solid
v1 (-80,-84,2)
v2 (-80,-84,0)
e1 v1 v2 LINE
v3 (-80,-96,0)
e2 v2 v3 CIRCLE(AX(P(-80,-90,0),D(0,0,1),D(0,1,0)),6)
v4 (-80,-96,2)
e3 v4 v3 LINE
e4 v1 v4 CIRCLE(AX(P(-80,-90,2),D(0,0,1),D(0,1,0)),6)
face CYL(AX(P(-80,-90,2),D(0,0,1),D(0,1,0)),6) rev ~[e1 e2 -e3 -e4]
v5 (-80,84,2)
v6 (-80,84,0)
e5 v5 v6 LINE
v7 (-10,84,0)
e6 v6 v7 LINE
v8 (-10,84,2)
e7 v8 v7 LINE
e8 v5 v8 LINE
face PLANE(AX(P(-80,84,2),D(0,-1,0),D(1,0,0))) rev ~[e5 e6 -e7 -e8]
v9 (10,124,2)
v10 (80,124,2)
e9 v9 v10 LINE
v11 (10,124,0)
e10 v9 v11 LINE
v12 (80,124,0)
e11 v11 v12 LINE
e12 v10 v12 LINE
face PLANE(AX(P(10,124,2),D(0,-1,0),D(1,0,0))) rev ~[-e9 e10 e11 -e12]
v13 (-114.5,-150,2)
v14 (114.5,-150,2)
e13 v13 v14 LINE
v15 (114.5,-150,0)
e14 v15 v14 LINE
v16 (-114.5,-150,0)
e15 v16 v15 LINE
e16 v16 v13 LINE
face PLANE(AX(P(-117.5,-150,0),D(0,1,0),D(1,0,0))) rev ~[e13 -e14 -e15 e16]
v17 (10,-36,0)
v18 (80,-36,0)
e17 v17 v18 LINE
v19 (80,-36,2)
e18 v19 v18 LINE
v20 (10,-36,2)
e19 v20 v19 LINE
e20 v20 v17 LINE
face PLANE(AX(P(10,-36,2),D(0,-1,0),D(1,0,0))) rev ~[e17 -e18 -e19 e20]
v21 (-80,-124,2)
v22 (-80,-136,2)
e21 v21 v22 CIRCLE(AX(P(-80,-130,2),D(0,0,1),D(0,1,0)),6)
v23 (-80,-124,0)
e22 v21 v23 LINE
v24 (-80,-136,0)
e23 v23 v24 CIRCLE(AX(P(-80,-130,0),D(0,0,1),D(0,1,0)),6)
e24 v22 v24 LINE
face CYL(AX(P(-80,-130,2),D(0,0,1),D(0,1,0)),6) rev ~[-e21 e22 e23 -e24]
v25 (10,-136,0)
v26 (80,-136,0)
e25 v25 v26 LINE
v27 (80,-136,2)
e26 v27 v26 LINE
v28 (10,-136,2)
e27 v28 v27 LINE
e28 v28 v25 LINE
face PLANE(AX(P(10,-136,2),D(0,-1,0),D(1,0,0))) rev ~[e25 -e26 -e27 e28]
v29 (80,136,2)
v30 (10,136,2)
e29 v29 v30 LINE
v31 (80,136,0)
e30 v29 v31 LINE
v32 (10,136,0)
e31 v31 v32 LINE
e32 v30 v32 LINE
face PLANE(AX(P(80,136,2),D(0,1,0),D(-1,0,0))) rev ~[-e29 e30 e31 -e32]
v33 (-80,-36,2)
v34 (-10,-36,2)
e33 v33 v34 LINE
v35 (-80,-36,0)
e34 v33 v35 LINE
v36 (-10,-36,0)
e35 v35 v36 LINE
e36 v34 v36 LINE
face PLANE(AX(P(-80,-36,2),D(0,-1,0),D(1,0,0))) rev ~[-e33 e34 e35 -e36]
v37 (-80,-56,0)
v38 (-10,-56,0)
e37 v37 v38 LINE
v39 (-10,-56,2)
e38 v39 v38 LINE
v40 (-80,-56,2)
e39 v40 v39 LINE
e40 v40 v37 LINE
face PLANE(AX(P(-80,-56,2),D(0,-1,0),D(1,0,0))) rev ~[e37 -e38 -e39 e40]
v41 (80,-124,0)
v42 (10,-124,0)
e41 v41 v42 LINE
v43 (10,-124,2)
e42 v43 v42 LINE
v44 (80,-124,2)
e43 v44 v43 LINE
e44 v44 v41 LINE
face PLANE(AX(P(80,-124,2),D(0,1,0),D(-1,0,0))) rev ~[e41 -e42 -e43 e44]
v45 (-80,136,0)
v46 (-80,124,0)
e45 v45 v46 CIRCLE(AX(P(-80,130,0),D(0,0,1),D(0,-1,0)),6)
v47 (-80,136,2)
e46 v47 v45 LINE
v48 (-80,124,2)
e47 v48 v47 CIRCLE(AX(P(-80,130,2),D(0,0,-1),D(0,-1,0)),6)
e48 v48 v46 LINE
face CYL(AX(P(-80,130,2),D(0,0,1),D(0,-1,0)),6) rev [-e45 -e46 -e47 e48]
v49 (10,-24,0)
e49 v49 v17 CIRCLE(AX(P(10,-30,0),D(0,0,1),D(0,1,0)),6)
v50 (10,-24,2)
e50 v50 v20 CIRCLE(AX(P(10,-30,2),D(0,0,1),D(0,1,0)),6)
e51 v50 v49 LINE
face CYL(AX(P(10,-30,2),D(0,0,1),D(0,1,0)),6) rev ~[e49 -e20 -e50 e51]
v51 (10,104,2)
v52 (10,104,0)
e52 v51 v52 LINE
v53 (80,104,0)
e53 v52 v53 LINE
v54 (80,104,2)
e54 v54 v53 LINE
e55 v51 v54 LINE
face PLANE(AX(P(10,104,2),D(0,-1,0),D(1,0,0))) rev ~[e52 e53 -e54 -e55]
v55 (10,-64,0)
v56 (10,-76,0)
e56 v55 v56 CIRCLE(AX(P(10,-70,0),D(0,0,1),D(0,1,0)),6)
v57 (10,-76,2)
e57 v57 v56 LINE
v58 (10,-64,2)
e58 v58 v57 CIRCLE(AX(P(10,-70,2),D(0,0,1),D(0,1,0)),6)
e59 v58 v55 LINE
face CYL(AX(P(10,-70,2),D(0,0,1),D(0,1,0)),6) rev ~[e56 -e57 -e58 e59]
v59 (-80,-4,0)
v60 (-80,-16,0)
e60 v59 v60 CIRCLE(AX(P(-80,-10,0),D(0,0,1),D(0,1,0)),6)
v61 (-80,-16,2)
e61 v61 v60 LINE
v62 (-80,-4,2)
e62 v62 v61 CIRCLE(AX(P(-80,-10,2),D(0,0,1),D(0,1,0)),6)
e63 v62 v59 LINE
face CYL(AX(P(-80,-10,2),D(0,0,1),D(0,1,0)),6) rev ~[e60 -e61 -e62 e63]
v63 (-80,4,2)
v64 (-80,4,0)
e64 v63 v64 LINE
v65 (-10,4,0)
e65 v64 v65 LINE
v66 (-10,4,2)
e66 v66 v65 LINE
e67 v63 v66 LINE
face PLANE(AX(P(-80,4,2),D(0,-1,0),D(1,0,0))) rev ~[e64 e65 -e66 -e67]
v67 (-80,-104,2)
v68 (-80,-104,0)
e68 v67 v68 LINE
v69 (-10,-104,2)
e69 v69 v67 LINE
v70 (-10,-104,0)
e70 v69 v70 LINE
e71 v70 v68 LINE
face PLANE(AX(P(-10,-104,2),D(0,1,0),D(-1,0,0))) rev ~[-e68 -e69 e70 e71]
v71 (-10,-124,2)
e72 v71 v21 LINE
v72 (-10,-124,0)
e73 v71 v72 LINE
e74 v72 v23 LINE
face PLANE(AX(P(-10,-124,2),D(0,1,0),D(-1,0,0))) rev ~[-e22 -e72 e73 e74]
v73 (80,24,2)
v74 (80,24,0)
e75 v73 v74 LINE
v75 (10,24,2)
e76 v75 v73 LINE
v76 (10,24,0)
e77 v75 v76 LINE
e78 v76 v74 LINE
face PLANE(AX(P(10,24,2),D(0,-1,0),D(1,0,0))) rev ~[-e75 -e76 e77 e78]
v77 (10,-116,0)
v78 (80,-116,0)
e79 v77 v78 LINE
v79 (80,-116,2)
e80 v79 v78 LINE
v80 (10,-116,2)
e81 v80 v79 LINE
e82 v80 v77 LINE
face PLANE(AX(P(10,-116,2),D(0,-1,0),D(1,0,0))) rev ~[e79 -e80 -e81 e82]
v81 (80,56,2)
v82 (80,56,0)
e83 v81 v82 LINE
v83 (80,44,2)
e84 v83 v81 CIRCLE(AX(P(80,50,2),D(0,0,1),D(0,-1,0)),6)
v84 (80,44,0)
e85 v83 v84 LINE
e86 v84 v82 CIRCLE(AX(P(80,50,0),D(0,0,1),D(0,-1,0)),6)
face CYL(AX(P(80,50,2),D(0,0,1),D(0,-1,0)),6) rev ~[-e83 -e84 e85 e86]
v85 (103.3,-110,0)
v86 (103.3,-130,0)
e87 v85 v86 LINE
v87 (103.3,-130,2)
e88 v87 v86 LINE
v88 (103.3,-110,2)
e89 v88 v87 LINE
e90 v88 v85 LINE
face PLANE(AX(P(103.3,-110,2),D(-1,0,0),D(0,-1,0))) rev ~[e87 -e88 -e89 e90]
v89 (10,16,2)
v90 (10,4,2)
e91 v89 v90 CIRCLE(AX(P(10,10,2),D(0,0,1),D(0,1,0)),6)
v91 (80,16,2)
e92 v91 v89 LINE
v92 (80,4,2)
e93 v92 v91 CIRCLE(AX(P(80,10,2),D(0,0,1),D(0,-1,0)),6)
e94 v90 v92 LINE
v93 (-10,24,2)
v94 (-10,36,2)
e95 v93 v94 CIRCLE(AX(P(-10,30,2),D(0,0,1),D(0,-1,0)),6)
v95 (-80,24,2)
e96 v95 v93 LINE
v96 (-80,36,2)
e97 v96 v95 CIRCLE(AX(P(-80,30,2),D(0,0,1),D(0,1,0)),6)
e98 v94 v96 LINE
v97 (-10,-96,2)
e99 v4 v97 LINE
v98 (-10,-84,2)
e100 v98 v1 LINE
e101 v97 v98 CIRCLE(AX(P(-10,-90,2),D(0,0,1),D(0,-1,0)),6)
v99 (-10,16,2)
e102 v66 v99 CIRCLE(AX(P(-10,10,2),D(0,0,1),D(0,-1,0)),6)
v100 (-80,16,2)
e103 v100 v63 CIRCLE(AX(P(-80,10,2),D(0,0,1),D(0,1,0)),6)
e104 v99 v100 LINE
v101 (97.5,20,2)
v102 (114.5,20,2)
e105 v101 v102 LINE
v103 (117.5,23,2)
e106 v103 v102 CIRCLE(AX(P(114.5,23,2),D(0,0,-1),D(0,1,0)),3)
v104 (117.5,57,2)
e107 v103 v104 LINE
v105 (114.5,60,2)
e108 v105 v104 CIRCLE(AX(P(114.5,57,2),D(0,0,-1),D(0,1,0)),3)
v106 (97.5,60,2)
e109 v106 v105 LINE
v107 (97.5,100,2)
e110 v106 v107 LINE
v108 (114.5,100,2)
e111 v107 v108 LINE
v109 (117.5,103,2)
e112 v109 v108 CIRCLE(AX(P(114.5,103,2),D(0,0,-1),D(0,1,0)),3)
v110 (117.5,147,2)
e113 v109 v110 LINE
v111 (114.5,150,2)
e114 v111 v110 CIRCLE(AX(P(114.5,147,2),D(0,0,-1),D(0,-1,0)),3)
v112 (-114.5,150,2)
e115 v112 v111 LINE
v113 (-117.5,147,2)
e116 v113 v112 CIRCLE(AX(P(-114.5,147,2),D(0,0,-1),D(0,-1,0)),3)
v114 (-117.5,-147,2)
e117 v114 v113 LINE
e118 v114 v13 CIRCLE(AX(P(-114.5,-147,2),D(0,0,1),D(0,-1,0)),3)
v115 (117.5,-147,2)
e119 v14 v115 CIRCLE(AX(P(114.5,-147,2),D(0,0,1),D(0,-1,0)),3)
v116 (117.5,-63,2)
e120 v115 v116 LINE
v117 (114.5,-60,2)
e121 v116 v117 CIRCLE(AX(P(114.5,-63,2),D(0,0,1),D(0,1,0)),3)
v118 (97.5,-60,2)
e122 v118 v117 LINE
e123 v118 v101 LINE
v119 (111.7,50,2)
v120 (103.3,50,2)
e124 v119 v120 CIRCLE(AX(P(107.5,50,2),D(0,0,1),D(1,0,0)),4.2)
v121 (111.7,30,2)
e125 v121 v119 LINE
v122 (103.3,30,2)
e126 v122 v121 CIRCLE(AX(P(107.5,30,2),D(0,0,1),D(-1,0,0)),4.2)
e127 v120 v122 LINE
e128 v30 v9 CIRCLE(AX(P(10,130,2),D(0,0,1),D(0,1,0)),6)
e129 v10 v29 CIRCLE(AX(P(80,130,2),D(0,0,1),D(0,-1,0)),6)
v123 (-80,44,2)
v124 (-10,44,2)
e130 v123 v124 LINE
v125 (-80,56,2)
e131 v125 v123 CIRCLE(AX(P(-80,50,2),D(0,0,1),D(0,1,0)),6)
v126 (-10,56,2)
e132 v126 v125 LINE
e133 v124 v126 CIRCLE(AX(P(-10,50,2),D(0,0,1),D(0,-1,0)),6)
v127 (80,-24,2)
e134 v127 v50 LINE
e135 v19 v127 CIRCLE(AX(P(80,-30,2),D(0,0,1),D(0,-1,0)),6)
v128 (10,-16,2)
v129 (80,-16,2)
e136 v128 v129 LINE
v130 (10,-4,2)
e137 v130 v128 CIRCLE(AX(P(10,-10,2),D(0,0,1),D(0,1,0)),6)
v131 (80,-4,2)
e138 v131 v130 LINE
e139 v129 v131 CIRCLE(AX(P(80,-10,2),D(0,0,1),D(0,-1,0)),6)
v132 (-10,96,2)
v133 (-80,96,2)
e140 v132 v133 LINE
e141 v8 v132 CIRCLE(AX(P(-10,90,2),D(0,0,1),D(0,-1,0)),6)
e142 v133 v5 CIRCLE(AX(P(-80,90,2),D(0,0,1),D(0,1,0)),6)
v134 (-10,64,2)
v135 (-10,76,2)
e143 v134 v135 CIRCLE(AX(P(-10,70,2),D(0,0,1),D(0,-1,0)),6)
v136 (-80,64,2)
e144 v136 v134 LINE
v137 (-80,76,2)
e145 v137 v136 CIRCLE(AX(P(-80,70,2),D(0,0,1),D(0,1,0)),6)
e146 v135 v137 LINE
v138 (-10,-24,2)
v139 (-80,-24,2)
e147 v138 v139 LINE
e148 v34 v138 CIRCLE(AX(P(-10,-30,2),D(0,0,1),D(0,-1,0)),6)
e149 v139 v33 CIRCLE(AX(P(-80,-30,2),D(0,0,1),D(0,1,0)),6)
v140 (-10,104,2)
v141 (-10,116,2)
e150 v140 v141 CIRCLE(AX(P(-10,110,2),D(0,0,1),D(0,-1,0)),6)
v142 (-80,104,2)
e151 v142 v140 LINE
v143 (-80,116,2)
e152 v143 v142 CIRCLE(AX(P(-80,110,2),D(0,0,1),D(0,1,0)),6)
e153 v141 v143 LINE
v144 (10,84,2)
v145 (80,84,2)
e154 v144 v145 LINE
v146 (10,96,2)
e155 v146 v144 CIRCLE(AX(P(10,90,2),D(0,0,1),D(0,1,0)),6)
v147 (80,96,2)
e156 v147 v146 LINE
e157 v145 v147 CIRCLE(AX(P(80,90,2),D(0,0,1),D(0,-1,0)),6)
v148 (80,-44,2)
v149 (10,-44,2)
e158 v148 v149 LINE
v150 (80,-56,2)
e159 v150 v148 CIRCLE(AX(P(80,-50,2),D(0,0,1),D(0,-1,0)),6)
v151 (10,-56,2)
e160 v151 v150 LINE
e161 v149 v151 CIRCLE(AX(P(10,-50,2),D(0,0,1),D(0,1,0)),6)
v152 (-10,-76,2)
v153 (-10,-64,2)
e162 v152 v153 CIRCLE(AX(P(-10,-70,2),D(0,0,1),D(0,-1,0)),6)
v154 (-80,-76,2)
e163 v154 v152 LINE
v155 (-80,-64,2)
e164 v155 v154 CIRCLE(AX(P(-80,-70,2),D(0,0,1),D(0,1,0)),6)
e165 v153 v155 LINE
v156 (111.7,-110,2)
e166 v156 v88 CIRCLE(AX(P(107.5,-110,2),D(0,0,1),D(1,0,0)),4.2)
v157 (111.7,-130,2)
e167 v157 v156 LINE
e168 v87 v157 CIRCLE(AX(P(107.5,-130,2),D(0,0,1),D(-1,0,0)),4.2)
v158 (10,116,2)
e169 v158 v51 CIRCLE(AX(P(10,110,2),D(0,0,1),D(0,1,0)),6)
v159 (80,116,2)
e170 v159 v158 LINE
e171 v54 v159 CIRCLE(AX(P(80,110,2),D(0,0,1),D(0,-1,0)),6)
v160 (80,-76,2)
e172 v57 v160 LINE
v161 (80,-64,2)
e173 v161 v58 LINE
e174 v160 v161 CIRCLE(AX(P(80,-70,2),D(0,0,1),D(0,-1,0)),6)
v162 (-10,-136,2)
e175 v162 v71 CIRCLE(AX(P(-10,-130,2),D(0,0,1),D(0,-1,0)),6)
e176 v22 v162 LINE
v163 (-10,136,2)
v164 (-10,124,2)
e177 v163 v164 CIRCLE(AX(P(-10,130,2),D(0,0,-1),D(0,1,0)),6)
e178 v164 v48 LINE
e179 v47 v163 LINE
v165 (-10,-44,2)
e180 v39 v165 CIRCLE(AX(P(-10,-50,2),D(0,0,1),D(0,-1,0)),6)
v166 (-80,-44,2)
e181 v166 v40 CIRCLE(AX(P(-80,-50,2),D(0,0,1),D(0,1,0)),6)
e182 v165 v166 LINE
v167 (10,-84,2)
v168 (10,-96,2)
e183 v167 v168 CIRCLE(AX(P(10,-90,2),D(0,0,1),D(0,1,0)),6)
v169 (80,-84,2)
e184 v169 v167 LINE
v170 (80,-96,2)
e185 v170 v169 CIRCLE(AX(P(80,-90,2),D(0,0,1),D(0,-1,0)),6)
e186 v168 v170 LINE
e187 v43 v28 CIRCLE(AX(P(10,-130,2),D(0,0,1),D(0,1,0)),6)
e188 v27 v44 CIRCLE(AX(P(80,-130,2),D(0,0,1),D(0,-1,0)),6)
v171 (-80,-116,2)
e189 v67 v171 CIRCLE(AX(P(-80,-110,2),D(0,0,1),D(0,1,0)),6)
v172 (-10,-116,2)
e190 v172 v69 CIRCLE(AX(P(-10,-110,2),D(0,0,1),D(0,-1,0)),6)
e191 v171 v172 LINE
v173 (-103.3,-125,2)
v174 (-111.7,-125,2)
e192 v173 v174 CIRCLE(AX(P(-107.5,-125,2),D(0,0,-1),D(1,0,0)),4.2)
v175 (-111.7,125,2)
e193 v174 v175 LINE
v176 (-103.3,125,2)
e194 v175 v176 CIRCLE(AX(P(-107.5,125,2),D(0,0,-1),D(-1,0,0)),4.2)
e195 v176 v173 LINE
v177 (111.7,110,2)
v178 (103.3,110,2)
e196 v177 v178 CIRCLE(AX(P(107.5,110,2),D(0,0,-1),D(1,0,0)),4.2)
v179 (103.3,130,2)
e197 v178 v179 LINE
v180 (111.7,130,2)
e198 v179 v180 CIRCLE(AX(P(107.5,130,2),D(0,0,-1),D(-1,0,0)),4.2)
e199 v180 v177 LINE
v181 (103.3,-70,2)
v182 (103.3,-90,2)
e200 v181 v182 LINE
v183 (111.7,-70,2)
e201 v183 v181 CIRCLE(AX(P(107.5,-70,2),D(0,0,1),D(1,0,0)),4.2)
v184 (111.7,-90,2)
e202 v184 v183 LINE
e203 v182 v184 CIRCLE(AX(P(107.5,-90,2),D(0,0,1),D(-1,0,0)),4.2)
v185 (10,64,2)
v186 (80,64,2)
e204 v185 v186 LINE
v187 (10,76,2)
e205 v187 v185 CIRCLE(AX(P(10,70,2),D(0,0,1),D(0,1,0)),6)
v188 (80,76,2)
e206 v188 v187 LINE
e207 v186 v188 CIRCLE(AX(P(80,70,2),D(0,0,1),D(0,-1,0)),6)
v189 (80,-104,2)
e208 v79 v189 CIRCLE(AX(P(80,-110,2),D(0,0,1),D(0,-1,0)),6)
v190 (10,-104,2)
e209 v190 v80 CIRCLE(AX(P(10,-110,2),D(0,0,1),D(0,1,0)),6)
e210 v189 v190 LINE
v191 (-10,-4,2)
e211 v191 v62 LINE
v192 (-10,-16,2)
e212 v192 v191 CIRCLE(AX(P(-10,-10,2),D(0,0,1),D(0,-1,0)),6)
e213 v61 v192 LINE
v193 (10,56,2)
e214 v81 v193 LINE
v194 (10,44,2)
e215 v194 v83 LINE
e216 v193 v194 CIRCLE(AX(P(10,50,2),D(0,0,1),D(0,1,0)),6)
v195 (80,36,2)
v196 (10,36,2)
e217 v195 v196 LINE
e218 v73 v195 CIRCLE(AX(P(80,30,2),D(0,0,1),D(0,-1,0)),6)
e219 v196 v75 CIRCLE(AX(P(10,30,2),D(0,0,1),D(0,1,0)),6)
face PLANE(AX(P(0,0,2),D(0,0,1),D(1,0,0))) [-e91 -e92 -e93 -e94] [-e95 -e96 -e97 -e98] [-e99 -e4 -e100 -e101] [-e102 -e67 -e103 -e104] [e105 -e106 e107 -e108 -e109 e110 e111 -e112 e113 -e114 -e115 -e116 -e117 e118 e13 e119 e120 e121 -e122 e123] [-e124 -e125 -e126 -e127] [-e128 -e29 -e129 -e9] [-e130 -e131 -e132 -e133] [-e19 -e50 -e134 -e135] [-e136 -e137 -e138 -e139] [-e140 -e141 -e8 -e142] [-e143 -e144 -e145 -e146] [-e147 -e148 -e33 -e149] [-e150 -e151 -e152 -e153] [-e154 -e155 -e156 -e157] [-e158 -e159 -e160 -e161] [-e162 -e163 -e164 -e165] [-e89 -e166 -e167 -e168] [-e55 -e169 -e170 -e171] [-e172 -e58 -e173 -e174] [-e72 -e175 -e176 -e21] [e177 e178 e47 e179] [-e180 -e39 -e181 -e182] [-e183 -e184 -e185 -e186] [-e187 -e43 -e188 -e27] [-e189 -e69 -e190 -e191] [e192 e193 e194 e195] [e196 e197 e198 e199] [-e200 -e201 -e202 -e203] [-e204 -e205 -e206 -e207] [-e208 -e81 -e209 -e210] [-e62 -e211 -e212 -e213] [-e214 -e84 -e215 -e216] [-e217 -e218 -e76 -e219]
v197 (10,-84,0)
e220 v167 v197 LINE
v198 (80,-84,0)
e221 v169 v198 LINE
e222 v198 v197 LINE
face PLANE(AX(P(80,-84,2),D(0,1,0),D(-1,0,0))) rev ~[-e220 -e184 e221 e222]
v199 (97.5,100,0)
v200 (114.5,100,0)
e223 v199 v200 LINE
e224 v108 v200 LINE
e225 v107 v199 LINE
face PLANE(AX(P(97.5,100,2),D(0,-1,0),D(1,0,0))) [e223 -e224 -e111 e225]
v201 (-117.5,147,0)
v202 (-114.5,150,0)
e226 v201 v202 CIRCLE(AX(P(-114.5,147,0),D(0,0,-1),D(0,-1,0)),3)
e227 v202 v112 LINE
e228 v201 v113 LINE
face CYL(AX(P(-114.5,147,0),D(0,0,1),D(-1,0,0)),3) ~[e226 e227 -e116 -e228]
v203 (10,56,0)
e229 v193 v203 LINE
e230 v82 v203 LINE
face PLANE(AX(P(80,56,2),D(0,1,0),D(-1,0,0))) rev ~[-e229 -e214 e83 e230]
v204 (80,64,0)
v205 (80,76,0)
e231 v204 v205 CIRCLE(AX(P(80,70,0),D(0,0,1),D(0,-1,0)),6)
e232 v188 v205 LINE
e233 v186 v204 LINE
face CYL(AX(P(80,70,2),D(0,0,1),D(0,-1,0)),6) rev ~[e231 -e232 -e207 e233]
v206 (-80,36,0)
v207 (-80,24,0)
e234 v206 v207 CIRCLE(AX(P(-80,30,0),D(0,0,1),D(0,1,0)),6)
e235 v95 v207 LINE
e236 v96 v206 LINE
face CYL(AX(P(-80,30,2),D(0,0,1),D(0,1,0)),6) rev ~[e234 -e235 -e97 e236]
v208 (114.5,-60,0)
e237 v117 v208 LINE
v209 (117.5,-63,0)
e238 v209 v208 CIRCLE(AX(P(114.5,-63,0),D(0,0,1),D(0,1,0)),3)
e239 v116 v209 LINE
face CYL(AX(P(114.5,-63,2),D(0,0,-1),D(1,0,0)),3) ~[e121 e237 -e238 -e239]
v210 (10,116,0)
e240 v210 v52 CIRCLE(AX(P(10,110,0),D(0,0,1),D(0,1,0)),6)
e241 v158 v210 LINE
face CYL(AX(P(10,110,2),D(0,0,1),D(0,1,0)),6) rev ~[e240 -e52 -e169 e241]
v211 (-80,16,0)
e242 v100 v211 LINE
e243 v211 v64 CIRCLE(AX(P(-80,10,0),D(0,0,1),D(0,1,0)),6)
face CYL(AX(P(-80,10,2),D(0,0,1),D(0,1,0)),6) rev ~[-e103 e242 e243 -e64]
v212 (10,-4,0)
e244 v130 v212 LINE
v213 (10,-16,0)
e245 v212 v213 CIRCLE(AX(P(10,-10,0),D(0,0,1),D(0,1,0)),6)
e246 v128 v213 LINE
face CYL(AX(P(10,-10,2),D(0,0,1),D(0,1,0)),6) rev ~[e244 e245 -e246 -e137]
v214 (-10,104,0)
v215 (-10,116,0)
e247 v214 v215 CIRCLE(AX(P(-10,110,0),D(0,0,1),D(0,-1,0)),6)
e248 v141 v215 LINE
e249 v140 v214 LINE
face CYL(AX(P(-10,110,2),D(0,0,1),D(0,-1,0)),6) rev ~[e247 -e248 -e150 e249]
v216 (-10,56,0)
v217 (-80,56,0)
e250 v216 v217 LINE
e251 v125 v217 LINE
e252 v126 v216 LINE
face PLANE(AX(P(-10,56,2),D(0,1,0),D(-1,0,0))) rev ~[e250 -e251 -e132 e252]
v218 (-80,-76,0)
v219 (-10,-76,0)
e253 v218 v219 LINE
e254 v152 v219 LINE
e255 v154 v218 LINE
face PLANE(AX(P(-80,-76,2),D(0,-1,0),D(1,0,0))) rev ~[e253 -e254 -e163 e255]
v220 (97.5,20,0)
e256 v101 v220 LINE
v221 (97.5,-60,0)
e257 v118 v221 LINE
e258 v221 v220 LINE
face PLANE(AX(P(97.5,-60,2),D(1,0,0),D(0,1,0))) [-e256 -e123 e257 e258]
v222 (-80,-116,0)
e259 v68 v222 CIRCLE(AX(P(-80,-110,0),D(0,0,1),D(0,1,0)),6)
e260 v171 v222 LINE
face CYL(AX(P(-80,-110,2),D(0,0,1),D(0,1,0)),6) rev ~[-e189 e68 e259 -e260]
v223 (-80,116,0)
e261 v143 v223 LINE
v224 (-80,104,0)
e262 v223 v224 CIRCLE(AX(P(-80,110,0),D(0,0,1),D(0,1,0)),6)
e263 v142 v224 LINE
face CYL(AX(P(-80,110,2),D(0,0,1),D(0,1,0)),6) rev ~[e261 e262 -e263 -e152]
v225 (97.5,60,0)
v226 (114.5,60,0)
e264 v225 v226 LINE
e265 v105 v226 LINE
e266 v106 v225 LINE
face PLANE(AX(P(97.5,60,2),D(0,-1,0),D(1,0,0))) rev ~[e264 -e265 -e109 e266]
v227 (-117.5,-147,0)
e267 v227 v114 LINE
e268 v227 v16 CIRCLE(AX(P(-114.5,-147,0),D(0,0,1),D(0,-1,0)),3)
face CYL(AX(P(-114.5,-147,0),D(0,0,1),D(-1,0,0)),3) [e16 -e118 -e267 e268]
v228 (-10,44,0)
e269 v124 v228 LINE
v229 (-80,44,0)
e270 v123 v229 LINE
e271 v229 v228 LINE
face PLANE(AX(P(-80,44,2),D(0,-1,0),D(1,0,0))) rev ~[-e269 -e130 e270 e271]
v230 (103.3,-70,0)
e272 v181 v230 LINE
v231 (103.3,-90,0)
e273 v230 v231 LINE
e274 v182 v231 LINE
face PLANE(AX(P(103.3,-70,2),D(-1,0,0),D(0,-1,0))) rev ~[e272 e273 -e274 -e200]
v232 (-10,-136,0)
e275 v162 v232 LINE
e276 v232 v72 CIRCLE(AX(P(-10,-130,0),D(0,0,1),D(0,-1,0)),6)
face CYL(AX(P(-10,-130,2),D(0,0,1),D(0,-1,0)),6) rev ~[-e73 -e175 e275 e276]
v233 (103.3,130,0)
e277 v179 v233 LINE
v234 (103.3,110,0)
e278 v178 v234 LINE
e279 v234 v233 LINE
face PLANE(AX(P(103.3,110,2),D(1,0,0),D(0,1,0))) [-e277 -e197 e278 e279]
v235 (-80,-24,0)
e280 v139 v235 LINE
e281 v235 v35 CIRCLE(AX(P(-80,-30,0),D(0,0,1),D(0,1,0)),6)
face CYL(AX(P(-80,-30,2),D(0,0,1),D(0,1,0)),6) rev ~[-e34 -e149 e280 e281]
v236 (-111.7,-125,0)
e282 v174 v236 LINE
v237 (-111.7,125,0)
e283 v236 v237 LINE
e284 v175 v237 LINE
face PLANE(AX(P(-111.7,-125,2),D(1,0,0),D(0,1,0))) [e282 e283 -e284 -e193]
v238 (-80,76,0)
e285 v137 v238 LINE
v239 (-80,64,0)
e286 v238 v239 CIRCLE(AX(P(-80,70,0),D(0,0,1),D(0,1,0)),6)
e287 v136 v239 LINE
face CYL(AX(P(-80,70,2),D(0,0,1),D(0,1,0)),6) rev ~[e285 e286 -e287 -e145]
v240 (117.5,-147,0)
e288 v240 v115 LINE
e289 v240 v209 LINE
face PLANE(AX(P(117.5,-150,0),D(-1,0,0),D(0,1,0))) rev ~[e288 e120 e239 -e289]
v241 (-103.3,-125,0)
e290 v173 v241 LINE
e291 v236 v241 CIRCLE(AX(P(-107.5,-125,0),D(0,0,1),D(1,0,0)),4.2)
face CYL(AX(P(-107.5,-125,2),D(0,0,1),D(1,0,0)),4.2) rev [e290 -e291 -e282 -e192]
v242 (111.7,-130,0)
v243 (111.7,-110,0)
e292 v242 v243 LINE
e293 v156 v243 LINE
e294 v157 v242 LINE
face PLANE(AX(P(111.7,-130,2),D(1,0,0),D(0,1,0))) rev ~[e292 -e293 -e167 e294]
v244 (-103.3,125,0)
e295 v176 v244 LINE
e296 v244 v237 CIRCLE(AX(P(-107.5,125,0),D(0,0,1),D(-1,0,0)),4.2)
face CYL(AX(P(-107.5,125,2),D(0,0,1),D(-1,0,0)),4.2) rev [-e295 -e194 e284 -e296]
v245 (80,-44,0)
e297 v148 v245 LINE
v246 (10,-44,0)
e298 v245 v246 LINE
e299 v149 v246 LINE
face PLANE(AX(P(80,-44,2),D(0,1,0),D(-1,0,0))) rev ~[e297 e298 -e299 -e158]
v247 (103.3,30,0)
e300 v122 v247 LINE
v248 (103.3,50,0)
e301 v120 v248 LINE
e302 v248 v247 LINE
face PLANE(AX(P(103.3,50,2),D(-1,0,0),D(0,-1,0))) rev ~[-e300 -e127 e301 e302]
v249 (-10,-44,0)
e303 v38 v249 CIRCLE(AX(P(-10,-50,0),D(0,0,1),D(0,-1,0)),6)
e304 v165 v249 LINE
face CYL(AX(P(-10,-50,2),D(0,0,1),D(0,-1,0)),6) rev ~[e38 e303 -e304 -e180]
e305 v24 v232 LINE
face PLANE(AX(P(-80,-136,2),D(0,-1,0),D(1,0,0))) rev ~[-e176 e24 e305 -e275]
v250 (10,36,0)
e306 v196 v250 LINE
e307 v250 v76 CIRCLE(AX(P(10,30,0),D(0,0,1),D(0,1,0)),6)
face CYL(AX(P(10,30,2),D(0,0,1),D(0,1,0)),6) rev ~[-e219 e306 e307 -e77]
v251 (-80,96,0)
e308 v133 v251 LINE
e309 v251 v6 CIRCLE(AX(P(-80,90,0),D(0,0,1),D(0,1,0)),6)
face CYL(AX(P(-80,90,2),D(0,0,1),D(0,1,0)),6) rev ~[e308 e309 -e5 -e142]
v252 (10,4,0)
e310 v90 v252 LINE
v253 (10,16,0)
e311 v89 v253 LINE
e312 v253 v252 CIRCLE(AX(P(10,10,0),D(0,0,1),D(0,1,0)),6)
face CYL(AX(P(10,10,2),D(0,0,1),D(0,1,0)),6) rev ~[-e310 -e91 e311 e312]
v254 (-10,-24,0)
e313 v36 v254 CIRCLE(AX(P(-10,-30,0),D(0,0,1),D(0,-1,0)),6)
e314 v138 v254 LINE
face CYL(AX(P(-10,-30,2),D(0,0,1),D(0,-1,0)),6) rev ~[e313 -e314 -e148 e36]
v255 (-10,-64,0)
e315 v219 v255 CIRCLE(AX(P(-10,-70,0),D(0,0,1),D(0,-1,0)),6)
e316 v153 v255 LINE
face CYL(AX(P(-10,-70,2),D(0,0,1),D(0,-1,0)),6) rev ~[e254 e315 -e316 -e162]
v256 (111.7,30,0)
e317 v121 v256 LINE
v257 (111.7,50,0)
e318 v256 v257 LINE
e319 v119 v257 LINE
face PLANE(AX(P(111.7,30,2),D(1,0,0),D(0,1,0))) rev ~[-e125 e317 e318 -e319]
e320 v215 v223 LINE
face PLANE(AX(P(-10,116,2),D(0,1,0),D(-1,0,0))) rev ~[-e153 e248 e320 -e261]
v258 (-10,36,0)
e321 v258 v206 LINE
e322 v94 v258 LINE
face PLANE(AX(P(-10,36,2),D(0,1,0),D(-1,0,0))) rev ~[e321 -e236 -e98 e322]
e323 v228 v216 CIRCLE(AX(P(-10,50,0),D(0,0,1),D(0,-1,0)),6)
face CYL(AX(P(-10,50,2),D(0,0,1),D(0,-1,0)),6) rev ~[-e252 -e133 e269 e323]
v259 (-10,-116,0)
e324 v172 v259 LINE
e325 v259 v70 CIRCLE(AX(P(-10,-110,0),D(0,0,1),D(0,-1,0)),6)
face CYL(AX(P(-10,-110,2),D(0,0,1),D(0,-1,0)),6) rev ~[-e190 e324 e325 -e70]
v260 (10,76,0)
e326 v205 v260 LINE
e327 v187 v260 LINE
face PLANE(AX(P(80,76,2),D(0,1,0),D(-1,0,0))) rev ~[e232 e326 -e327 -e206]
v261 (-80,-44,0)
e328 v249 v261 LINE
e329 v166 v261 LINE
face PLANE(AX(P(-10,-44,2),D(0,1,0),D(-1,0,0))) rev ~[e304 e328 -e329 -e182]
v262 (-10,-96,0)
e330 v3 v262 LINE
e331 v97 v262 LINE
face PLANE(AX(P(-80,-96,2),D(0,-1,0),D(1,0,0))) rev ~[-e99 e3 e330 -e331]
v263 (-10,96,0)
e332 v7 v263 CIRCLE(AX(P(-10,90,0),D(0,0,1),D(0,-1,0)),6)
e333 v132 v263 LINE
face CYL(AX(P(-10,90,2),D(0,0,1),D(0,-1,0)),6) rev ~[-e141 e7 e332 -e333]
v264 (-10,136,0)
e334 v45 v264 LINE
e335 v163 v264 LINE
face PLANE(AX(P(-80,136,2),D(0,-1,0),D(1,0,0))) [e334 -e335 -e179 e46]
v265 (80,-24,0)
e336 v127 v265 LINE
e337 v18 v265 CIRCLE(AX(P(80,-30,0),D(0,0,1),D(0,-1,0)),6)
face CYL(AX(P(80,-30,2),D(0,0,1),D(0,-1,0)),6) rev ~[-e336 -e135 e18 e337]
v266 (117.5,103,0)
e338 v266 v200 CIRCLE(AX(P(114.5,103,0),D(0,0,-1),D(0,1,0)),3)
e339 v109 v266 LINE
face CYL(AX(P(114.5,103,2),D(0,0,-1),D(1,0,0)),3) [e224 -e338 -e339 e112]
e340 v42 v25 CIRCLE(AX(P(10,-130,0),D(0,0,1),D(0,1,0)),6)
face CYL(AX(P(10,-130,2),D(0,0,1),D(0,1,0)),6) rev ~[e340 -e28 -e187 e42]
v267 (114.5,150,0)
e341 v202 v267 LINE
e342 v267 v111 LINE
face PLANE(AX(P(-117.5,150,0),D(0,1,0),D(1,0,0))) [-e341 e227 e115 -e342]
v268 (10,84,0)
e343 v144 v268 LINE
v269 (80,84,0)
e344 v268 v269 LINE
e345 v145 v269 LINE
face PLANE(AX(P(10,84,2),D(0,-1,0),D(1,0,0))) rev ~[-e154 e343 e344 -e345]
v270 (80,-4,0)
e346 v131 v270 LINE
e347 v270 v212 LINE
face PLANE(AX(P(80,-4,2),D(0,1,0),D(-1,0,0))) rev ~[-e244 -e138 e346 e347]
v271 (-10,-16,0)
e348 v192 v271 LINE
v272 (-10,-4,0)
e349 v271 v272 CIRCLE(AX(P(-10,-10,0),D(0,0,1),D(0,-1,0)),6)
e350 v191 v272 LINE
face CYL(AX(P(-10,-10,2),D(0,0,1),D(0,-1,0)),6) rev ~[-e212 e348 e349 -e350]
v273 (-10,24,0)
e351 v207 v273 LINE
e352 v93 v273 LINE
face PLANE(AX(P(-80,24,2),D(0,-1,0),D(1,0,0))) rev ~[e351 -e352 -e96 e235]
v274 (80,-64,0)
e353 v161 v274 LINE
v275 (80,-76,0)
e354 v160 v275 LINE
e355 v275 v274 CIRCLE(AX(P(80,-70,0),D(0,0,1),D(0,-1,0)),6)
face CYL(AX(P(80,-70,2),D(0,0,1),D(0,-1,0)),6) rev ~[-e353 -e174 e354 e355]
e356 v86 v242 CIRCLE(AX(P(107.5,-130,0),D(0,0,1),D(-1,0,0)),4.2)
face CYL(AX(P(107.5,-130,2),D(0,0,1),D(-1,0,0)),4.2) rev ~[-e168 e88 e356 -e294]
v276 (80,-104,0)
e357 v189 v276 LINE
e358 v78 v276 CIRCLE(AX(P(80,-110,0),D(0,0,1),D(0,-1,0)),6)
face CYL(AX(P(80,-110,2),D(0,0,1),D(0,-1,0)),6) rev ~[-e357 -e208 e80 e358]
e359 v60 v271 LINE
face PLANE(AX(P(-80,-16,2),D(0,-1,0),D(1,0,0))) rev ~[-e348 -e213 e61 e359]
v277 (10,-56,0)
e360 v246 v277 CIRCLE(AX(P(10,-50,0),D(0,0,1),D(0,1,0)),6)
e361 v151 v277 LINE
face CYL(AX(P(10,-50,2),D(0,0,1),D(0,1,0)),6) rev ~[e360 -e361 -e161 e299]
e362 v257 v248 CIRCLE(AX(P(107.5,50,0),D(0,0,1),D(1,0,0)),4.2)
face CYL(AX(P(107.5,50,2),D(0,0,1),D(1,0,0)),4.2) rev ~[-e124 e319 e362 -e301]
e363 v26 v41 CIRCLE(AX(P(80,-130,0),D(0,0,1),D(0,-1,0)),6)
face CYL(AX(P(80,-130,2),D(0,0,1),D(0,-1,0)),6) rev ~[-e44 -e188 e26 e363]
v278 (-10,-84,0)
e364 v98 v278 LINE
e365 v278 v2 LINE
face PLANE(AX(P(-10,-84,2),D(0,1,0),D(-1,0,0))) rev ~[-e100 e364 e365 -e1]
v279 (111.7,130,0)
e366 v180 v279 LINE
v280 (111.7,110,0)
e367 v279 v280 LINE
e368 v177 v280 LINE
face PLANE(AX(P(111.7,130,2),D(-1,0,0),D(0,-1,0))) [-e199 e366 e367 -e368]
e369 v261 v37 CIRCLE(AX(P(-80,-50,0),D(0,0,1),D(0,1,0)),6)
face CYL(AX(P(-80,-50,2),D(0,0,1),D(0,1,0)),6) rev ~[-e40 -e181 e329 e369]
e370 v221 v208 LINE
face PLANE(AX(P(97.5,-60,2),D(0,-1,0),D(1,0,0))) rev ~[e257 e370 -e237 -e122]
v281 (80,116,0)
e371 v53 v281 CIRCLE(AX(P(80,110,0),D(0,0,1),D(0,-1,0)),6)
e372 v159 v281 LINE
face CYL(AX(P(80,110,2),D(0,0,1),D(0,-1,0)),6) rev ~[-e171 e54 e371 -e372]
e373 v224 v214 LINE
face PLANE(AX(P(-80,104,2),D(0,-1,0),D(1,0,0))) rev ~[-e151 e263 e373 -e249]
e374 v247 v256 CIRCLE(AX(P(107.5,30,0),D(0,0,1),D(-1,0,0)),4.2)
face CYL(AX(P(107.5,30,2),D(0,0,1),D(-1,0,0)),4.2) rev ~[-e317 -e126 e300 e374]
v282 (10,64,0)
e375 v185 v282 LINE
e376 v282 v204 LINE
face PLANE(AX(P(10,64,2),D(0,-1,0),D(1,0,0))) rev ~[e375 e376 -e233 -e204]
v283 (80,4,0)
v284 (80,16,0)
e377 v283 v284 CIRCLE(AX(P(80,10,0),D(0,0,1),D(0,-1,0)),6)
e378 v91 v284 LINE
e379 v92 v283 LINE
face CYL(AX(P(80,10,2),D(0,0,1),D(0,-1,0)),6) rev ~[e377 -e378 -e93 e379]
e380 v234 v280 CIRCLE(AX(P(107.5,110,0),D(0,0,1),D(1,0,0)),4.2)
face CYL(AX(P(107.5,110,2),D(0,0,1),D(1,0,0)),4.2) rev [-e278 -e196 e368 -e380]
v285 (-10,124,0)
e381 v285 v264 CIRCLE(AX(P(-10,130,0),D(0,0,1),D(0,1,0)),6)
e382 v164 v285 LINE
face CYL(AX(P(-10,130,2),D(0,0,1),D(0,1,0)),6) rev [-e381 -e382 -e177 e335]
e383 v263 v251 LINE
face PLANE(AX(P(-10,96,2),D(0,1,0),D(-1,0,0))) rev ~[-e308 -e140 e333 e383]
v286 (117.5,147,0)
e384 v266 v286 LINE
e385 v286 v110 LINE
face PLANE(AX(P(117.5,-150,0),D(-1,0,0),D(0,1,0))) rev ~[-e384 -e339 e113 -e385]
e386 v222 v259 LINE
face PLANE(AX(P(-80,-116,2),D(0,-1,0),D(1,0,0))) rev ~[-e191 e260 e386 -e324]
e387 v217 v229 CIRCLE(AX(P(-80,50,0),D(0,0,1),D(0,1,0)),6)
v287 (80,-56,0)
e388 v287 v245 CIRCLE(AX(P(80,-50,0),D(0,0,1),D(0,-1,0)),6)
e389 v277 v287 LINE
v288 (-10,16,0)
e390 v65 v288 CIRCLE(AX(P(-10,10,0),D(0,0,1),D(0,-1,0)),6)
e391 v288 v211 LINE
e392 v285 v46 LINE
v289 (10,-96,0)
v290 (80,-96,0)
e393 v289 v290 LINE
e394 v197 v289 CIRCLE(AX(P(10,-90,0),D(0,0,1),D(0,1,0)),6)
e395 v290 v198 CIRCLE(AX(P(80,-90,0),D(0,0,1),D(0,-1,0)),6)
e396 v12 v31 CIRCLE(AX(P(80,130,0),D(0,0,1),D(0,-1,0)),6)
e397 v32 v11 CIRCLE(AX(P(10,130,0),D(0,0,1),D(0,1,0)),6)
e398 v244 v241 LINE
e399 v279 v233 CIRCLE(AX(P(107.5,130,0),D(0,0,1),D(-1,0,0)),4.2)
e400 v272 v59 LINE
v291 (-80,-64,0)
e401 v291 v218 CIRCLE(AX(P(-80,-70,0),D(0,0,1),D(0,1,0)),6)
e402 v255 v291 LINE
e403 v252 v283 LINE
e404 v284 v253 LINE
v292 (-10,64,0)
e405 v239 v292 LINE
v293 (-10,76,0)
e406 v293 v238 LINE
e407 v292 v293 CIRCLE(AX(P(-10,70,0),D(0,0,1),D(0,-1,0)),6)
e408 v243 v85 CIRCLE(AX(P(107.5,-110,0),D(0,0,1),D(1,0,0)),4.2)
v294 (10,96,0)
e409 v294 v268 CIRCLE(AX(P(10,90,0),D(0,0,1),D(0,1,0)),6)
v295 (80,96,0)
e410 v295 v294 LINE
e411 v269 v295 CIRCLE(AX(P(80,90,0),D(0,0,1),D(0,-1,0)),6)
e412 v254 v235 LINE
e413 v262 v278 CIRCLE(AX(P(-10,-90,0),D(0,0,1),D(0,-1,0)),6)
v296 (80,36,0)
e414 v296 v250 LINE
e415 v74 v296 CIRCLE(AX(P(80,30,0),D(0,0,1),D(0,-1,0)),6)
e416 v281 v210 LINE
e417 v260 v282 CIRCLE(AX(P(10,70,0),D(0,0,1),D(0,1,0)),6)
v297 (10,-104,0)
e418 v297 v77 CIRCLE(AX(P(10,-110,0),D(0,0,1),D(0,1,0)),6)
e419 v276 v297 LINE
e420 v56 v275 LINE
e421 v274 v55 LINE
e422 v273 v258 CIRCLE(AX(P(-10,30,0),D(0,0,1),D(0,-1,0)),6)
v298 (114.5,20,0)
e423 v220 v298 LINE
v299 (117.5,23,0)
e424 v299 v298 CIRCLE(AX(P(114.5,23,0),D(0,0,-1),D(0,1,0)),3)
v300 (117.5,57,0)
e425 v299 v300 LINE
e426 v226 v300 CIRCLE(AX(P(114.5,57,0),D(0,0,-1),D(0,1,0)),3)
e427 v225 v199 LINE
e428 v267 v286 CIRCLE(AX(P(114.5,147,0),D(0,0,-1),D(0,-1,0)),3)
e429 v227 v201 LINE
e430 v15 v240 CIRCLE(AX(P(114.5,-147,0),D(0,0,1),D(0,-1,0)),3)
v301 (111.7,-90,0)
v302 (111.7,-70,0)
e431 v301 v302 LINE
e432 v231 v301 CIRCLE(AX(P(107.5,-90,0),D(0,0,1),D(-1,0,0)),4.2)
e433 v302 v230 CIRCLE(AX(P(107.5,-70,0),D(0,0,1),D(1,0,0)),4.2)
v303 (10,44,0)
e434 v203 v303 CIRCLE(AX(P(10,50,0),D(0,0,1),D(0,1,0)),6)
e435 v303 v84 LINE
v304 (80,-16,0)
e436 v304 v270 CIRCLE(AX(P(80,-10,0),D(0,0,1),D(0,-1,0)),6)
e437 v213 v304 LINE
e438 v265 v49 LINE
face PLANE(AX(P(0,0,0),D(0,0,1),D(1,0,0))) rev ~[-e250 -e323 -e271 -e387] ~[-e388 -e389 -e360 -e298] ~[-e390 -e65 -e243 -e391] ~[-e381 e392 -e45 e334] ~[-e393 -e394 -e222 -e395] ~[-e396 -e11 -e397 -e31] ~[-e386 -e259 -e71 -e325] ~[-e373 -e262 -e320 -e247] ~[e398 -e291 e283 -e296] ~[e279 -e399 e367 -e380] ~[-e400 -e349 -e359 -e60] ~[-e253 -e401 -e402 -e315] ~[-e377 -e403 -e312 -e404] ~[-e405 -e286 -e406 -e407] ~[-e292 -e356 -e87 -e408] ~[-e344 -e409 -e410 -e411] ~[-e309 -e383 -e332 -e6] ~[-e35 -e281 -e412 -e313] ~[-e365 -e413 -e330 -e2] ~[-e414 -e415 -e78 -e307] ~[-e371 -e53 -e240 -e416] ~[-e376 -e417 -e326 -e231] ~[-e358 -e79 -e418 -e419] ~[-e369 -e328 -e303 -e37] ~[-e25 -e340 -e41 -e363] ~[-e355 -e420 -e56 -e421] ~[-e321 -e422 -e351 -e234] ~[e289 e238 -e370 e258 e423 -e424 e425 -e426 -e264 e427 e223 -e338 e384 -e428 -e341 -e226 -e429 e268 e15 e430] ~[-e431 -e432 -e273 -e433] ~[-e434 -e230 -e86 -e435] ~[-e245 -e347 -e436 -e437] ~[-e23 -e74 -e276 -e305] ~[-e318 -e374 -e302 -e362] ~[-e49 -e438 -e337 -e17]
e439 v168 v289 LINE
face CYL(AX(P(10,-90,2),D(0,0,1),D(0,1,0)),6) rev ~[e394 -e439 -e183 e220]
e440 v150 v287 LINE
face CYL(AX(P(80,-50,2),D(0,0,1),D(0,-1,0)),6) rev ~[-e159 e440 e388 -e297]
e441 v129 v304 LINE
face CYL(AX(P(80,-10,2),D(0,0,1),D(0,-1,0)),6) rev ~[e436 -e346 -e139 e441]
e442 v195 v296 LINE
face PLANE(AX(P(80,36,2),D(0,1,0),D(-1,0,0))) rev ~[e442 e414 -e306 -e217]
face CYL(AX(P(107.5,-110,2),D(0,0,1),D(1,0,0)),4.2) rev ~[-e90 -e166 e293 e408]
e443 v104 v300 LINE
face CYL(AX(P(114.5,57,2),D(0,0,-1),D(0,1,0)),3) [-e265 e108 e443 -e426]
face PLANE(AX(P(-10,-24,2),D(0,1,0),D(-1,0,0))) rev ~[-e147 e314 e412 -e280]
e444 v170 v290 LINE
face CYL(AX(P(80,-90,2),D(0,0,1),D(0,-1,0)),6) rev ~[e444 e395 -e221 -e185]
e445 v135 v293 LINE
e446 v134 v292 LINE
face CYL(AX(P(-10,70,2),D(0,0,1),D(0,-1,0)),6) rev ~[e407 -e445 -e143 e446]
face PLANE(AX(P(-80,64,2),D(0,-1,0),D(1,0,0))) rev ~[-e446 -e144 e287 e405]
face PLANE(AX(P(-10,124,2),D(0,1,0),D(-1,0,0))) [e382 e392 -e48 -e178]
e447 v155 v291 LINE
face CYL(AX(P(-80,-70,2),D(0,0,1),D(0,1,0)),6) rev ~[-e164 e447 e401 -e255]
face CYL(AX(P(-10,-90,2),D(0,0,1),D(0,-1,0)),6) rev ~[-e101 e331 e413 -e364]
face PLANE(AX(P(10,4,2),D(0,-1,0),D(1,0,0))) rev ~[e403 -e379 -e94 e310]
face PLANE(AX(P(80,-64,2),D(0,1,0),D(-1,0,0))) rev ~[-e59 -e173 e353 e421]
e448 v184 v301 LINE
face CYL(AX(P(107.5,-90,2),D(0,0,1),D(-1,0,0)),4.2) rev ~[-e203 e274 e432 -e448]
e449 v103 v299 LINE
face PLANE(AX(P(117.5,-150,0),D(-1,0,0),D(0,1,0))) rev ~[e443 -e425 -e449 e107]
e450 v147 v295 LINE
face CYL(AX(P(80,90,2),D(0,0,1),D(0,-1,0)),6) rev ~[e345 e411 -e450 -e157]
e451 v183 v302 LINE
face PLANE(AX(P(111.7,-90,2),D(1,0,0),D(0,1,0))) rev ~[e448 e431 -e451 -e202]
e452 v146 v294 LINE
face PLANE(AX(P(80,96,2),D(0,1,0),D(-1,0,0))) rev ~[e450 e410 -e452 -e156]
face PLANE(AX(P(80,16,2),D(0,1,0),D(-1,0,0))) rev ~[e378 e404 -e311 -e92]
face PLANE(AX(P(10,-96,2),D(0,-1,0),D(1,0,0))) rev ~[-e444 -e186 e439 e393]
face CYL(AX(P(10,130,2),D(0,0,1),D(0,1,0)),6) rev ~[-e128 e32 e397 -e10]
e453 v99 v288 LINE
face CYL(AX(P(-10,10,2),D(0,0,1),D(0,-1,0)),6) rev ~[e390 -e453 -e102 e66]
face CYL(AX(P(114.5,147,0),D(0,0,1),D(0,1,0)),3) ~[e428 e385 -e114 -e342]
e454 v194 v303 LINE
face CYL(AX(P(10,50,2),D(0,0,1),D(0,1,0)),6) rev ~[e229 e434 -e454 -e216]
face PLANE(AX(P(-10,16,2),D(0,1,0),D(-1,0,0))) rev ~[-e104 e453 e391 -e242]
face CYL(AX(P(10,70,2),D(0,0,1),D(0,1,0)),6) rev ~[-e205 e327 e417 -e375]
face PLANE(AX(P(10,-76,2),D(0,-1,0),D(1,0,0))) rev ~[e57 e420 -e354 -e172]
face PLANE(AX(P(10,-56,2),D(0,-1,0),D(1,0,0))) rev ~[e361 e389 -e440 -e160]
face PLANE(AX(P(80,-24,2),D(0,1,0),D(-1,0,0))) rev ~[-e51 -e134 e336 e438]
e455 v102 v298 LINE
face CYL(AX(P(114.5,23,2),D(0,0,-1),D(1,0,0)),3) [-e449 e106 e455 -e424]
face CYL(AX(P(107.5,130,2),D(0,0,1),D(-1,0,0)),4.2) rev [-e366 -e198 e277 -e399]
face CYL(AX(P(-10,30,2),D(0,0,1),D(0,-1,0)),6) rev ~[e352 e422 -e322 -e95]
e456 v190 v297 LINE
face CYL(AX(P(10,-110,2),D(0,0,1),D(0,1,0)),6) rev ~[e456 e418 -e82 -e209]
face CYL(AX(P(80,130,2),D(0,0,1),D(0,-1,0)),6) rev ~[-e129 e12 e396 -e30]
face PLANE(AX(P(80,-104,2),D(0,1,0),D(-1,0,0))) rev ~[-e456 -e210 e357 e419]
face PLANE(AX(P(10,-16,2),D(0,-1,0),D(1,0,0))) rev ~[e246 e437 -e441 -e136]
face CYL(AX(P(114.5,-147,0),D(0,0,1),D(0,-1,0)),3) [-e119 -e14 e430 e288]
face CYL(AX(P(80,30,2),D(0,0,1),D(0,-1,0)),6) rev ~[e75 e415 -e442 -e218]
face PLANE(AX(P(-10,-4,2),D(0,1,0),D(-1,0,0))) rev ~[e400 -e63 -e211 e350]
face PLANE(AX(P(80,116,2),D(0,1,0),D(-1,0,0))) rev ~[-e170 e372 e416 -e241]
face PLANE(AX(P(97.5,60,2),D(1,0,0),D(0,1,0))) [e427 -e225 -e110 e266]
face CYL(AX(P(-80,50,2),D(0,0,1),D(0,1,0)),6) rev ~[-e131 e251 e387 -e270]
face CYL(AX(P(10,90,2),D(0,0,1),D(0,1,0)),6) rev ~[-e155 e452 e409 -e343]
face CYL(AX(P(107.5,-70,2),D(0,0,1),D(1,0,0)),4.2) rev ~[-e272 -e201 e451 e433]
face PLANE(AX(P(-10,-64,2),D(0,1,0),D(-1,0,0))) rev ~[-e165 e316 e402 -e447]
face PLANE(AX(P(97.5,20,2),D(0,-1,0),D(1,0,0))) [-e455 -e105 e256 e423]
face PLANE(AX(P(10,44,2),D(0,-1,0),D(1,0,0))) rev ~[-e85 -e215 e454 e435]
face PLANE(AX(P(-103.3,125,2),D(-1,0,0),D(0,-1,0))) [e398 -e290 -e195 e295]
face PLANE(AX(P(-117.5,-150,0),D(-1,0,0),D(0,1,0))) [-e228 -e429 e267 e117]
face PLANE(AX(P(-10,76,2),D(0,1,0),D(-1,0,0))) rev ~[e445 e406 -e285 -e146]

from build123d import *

# Parameters (mm, degrees)
SKETCH_1_W          = 235
SKETCH_1_H          = 300
EXTRUDE_1_DEPTH     = 2
CUT_EXTRUDE_1_DEPTH = 191.552486208
SKETCH_5_W          = 20
SKETCH_5_H          = 80
SKETCH_5_H_2        = 40
CUT_EXTRUDE_2_DEPTH = 191.552486208
FILLET_1_R          = 3


with BuildPart() as part:
    # 草图1 → 凸台-拉伸1 (new body)
    with BuildSketch(Plane.XY):
        Rectangle(SKETCH_1_W, SKETCH_1_H)
    extrude(amount=EXTRUDE_1_DEPTH)

    # 草图4 → 切除-拉伸1 (cut, through all)
    with BuildSketch(Plane.XY.offset(2)):
        with BuildLine():
            Line((-103.3, 125), (-103.3, -125))
            ThreePointArc((-103.3, -125), (-107.5, -129.2), (-111.7, -125))
            Line((-111.7, -125), (-111.7, 125))
            ThreePointArc((-111.7, 125), (-107.5, 129.2), (-103.3, 125))
        make_face()
        with BuildLine():
            Line((111.7, 130), (111.7, 110))
            ThreePointArc((111.7, 110), (107.5, 105.8), (103.3, 110))
            Line((103.3, 110), (103.3, 130))
            ThreePointArc((103.3, 130), (107.5, 134.2), (111.7, 130))
        make_face()
        with BuildLine():
            Line((103.3, 90), (103.3, 70))
            ThreePointArc((103.3, 70), (107.5, 65.8), (111.7, 70))
            Line((111.7, 70), (111.7, 90))
            ThreePointArc((111.7, 90), (107.5, 94.2), (103.3, 90))
        make_face()
        with BuildLine():
            Line((103.3, 50), (103.3, 30))
            ThreePointArc((103.3, 30), (107.5, 25.8), (111.7, 30))
            Line((111.7, 30), (111.7, 50))
            ThreePointArc((111.7, 50), (107.5, 54.2), (103.3, 50))
        make_face()
        with BuildLine():
            Line((103.3, 10), (103.3, -10))
            ThreePointArc((103.3, -10), (107.5, -14.2), (111.7, -10))
            Line((111.7, -10), (111.7, 10))
            ThreePointArc((111.7, 10), (107.5, 14.2), (103.3, 10))
        make_face()
        with BuildLine():
            Line((103.3, -30), (103.3, -50))
            ThreePointArc((103.3, -50), (107.5, -54.2), (111.7, -50))
            Line((111.7, -50), (111.7, -30))
            ThreePointArc((111.7, -30), (107.5, -25.8), (103.3, -30))
        make_face()
        with BuildLine():
            Line((103.3, -70), (103.3, -90))
            ThreePointArc((103.3, -90), (107.5, -94.2), (111.7, -90))
            Line((111.7, -90), (111.7, -70))
            ThreePointArc((111.7, -70), (107.5, -65.8), (103.3, -70))
        make_face()
        with BuildLine():
            Line((103.3, -110), (103.3, -130))
            ThreePointArc((103.3, -130), (107.5, -134.2), (111.7, -130))
            Line((111.7, -130), (111.7, -110))
            ThreePointArc((111.7, -110), (107.5, -105.8), (103.3, -110))
        make_face()
        with BuildLine():
            Line((-80, 136), (-10, 136))
            ThreePointArc((-10, 136), (-4, 130), (-10, 124))
            Line((-10, 124), (-80, 124))
            ThreePointArc((-80, 124), (-86, 130), (-80, 136))
        make_face()
        with BuildLine():
            Line((-80, 104), (-10, 104))
            ThreePointArc((-10, 104), (-4, 110), (-10, 116))
            Line((-10, 116), (-80, 116))
            ThreePointArc((-80, 116), (-86, 110), (-80, 104))
        make_face()
        with BuildLine():
            Line((-80, 84), (-10, 84))
            ThreePointArc((-10, 84), (-4, 90), (-10, 96))
            Line((-10, 96), (-80, 96))
            ThreePointArc((-80, 96), (-86, 90), (-80, 84))
        make_face()
        with BuildLine():
            Line((-80, 64), (-10, 64))
            ThreePointArc((-10, 64), (-4, 70), (-10, 76))
            Line((-10, 76), (-80, 76))
            ThreePointArc((-80, 76), (-86, 70), (-80, 64))
        make_face()
        with BuildLine():
            Line((-80, 44), (-10, 44))
            ThreePointArc((-10, 44), (-4, 50), (-10, 56))
            Line((-10, 56), (-80, 56))
            ThreePointArc((-80, 56), (-86, 50), (-80, 44))
        make_face()
        with BuildLine():
            Line((-80, 24), (-10, 24))
            ThreePointArc((-10, 24), (-4, 30), (-10, 36))
            Line((-10, 36), (-80, 36))
            ThreePointArc((-80, 36), (-86, 30), (-80, 24))
        make_face()
        with BuildLine():
            Line((-80, 4), (-10, 4))
            ThreePointArc((-10, 4), (-4, 10), (-10, 16))
            Line((-10, 16), (-80, 16))
            ThreePointArc((-80, 16), (-86, 10), (-80, 4))
        make_face()
        with BuildLine():
            Line((-80, -16), (-10, -16))
            ThreePointArc((-10, -16), (-4, -10), (-10, -4))
            Line((-10, -4), (-80, -4))
            ThreePointArc((-80, -4), (-86, -10), (-80, -16))
        make_face()
        with BuildLine():
            Line((-80, -36), (-10, -36))
            ThreePointArc((-10, -36), (-4, -30), (-10, -24))
            Line((-10, -24), (-80, -24))
            ThreePointArc((-80, -24), (-86, -30), (-80, -36))
        make_face()
        with BuildLine():
            Line((-80, -56), (-10, -56))
            ThreePointArc((-10, -56), (-4, -50), (-10, -44))
            Line((-10, -44), (-80, -44))
            ThreePointArc((-80, -44), (-86, -50), (-80, -56))
        make_face()
        with BuildLine():
            Line((-80, -76), (-10, -76))
            ThreePointArc((-10, -76), (-4, -70), (-10, -64))
            Line((-10, -64), (-80, -64))
            ThreePointArc((-80, -64), (-86, -70), (-80, -76))
        make_face()
        with BuildLine():
            Line((-80, -96), (-10, -96))
            ThreePointArc((-10, -96), (-4, -90), (-10, -84))
            Line((-10, -84), (-80, -84))
            ThreePointArc((-80, -84), (-86, -90), (-80, -96))
        make_face()
        with BuildLine():
            Line((-80, -116), (-10, -116))
            ThreePointArc((-10, -116), (-4, -110), (-10, -104))
            Line((-10, -104), (-80, -104))
            ThreePointArc((-80, -104), (-86, -110), (-80, -116))
        make_face()
        with BuildLine():
            Line((-80, -136), (-10, -136))
            ThreePointArc((-10, -136), (-4, -130), (-10, -124))
            Line((-10, -124), (-80, -124))
            ThreePointArc((-80, -124), (-86, -130), (-80, -136))
        make_face()
        with BuildLine():
            Line((80, -124), (10, -124))
            ThreePointArc((10, -124), (4, -130), (10, -136))
            Line((10, -136), (80, -136))
            ThreePointArc((80, -136), (86, -130), (80, -124))
        make_face()
        with BuildLine():
            Line((80, -104), (10, -104))
            ThreePointArc((10, -104), (4, -110), (10, -116))
            Line((10, -116), (80, -116))
            ThreePointArc((80, -116), (86, -110), (80, -104))
        make_face()
        with BuildLine():
            Line((80, -84), (10, -84))
            ThreePointArc((10, -84), (4, -90), (10, -96))
            Line((10, -96), (80, -96))
            ThreePointArc((80, -96), (86, -90), (80, -84))
        make_face()
        with BuildLine():
            Line((80, -64), (10, -64))
            ThreePointArc((10, -64), (4, -70), (10, -76))
            Line((10, -76), (80, -76))
            ThreePointArc((80, -76), (86, -70), (80, -64))
        make_face()
        with BuildLine():
            Line((80, -44), (10, -44))
            ThreePointArc((10, -44), (4, -50), (10, -56))
            Line((10, -56), (80, -56))
            ThreePointArc((80, -56), (86, -50), (80, -44))
        make_face()
        with BuildLine():
            Line((80, -24), (10, -24))
            ThreePointArc((10, -24), (4, -30), (10, -36))
            Line((10, -36), (80, -36))
            ThreePointArc((80, -36), (86, -30), (80, -24))
        make_face()
        with BuildLine():
            Line((80, -4), (10, -4))
            ThreePointArc((10, -4), (4, -10), (10, -16))
            Line((10, -16), (80, -16))
            ThreePointArc((80, -16), (86, -10), (80, -4))
        make_face()
        with BuildLine():
            Line((80, 36), (10, 36))
            ThreePointArc((10, 36), (4, 30), (10, 24))
            Line((10, 24), (80, 24))
            ThreePointArc((80, 24), (86, 30), (80, 36))
        make_face()
        with BuildLine():
            Line((80, 16), (10, 16))
            ThreePointArc((10, 16), (4, 10), (10, 4))
            Line((10, 4), (80, 4))
            ThreePointArc((80, 4), (86, 10), (80, 16))
        make_face()
        with BuildLine():
            Line((80, 56), (10, 56))
            ThreePointArc((10, 56), (4, 50), (10, 44))
            Line((10, 44), (80, 44))
            ThreePointArc((80, 44), (86, 50), (80, 56))
        make_face()
        with BuildLine():
            Line((80, 76), (10, 76))
            ThreePointArc((10, 76), (4, 70), (10, 64))
            Line((10, 64), (80, 64))
            ThreePointArc((80, 64), (86, 70), (80, 76))
        make_face()
        with BuildLine():
            Line((80, 96), (10, 96))
            ThreePointArc((10, 96), (4, 90), (10, 84))
            Line((10, 84), (80, 84))
            ThreePointArc((80, 84), (86, 90), (80, 96))
        make_face()
        with BuildLine():
            Line((80, 116), (10, 116))
            ThreePointArc((10, 116), (4, 110), (10, 104))
            Line((10, 104), (80, 104))
            ThreePointArc((80, 104), (86, 110), (80, 116))
        make_face()
        with BuildLine():
            Line((80, 136), (10, 136))
            ThreePointArc((10, 136), (4, 130), (10, 124))
            Line((10, 124), (80, 124))
            ThreePointArc((80, 124), (86, 130), (80, 136))
        make_face()
    extrude(amount=-CUT_EXTRUDE_1_DEPTH, mode=Mode.SUBTRACT)

    # 草图5 → 切除-拉伸2 (cut, through all)
    with BuildSketch(Plane.XY.offset(2)):
        with Locations((107.5, -20)):
            Rectangle(SKETCH_5_W, SKETCH_5_H)
        with Locations((107.5, 80)):
            Rectangle(SKETCH_5_W, SKETCH_5_H_2)
    extrude(amount=-CUT_EXTRUDE_2_DEPTH, mode=Mode.SUBTRACT)

    # 圆角1
    fillet_1_edges = [part.edges().sort_by_distance(p)[0] for p in [
        (117.5, 20, 1),
        (117.5, -60, 1),
        (117.5, 100, 1),
        (117.5, 60, 1),
        (117.5, -150, 1),
        (-117.5, -150, 1),
        (-117.5, 150, 1),
        (117.5, 150, 1),
    ]]
    fillet(fillet_1_edges, radius=FILLET_1_R)


solid = part.part
